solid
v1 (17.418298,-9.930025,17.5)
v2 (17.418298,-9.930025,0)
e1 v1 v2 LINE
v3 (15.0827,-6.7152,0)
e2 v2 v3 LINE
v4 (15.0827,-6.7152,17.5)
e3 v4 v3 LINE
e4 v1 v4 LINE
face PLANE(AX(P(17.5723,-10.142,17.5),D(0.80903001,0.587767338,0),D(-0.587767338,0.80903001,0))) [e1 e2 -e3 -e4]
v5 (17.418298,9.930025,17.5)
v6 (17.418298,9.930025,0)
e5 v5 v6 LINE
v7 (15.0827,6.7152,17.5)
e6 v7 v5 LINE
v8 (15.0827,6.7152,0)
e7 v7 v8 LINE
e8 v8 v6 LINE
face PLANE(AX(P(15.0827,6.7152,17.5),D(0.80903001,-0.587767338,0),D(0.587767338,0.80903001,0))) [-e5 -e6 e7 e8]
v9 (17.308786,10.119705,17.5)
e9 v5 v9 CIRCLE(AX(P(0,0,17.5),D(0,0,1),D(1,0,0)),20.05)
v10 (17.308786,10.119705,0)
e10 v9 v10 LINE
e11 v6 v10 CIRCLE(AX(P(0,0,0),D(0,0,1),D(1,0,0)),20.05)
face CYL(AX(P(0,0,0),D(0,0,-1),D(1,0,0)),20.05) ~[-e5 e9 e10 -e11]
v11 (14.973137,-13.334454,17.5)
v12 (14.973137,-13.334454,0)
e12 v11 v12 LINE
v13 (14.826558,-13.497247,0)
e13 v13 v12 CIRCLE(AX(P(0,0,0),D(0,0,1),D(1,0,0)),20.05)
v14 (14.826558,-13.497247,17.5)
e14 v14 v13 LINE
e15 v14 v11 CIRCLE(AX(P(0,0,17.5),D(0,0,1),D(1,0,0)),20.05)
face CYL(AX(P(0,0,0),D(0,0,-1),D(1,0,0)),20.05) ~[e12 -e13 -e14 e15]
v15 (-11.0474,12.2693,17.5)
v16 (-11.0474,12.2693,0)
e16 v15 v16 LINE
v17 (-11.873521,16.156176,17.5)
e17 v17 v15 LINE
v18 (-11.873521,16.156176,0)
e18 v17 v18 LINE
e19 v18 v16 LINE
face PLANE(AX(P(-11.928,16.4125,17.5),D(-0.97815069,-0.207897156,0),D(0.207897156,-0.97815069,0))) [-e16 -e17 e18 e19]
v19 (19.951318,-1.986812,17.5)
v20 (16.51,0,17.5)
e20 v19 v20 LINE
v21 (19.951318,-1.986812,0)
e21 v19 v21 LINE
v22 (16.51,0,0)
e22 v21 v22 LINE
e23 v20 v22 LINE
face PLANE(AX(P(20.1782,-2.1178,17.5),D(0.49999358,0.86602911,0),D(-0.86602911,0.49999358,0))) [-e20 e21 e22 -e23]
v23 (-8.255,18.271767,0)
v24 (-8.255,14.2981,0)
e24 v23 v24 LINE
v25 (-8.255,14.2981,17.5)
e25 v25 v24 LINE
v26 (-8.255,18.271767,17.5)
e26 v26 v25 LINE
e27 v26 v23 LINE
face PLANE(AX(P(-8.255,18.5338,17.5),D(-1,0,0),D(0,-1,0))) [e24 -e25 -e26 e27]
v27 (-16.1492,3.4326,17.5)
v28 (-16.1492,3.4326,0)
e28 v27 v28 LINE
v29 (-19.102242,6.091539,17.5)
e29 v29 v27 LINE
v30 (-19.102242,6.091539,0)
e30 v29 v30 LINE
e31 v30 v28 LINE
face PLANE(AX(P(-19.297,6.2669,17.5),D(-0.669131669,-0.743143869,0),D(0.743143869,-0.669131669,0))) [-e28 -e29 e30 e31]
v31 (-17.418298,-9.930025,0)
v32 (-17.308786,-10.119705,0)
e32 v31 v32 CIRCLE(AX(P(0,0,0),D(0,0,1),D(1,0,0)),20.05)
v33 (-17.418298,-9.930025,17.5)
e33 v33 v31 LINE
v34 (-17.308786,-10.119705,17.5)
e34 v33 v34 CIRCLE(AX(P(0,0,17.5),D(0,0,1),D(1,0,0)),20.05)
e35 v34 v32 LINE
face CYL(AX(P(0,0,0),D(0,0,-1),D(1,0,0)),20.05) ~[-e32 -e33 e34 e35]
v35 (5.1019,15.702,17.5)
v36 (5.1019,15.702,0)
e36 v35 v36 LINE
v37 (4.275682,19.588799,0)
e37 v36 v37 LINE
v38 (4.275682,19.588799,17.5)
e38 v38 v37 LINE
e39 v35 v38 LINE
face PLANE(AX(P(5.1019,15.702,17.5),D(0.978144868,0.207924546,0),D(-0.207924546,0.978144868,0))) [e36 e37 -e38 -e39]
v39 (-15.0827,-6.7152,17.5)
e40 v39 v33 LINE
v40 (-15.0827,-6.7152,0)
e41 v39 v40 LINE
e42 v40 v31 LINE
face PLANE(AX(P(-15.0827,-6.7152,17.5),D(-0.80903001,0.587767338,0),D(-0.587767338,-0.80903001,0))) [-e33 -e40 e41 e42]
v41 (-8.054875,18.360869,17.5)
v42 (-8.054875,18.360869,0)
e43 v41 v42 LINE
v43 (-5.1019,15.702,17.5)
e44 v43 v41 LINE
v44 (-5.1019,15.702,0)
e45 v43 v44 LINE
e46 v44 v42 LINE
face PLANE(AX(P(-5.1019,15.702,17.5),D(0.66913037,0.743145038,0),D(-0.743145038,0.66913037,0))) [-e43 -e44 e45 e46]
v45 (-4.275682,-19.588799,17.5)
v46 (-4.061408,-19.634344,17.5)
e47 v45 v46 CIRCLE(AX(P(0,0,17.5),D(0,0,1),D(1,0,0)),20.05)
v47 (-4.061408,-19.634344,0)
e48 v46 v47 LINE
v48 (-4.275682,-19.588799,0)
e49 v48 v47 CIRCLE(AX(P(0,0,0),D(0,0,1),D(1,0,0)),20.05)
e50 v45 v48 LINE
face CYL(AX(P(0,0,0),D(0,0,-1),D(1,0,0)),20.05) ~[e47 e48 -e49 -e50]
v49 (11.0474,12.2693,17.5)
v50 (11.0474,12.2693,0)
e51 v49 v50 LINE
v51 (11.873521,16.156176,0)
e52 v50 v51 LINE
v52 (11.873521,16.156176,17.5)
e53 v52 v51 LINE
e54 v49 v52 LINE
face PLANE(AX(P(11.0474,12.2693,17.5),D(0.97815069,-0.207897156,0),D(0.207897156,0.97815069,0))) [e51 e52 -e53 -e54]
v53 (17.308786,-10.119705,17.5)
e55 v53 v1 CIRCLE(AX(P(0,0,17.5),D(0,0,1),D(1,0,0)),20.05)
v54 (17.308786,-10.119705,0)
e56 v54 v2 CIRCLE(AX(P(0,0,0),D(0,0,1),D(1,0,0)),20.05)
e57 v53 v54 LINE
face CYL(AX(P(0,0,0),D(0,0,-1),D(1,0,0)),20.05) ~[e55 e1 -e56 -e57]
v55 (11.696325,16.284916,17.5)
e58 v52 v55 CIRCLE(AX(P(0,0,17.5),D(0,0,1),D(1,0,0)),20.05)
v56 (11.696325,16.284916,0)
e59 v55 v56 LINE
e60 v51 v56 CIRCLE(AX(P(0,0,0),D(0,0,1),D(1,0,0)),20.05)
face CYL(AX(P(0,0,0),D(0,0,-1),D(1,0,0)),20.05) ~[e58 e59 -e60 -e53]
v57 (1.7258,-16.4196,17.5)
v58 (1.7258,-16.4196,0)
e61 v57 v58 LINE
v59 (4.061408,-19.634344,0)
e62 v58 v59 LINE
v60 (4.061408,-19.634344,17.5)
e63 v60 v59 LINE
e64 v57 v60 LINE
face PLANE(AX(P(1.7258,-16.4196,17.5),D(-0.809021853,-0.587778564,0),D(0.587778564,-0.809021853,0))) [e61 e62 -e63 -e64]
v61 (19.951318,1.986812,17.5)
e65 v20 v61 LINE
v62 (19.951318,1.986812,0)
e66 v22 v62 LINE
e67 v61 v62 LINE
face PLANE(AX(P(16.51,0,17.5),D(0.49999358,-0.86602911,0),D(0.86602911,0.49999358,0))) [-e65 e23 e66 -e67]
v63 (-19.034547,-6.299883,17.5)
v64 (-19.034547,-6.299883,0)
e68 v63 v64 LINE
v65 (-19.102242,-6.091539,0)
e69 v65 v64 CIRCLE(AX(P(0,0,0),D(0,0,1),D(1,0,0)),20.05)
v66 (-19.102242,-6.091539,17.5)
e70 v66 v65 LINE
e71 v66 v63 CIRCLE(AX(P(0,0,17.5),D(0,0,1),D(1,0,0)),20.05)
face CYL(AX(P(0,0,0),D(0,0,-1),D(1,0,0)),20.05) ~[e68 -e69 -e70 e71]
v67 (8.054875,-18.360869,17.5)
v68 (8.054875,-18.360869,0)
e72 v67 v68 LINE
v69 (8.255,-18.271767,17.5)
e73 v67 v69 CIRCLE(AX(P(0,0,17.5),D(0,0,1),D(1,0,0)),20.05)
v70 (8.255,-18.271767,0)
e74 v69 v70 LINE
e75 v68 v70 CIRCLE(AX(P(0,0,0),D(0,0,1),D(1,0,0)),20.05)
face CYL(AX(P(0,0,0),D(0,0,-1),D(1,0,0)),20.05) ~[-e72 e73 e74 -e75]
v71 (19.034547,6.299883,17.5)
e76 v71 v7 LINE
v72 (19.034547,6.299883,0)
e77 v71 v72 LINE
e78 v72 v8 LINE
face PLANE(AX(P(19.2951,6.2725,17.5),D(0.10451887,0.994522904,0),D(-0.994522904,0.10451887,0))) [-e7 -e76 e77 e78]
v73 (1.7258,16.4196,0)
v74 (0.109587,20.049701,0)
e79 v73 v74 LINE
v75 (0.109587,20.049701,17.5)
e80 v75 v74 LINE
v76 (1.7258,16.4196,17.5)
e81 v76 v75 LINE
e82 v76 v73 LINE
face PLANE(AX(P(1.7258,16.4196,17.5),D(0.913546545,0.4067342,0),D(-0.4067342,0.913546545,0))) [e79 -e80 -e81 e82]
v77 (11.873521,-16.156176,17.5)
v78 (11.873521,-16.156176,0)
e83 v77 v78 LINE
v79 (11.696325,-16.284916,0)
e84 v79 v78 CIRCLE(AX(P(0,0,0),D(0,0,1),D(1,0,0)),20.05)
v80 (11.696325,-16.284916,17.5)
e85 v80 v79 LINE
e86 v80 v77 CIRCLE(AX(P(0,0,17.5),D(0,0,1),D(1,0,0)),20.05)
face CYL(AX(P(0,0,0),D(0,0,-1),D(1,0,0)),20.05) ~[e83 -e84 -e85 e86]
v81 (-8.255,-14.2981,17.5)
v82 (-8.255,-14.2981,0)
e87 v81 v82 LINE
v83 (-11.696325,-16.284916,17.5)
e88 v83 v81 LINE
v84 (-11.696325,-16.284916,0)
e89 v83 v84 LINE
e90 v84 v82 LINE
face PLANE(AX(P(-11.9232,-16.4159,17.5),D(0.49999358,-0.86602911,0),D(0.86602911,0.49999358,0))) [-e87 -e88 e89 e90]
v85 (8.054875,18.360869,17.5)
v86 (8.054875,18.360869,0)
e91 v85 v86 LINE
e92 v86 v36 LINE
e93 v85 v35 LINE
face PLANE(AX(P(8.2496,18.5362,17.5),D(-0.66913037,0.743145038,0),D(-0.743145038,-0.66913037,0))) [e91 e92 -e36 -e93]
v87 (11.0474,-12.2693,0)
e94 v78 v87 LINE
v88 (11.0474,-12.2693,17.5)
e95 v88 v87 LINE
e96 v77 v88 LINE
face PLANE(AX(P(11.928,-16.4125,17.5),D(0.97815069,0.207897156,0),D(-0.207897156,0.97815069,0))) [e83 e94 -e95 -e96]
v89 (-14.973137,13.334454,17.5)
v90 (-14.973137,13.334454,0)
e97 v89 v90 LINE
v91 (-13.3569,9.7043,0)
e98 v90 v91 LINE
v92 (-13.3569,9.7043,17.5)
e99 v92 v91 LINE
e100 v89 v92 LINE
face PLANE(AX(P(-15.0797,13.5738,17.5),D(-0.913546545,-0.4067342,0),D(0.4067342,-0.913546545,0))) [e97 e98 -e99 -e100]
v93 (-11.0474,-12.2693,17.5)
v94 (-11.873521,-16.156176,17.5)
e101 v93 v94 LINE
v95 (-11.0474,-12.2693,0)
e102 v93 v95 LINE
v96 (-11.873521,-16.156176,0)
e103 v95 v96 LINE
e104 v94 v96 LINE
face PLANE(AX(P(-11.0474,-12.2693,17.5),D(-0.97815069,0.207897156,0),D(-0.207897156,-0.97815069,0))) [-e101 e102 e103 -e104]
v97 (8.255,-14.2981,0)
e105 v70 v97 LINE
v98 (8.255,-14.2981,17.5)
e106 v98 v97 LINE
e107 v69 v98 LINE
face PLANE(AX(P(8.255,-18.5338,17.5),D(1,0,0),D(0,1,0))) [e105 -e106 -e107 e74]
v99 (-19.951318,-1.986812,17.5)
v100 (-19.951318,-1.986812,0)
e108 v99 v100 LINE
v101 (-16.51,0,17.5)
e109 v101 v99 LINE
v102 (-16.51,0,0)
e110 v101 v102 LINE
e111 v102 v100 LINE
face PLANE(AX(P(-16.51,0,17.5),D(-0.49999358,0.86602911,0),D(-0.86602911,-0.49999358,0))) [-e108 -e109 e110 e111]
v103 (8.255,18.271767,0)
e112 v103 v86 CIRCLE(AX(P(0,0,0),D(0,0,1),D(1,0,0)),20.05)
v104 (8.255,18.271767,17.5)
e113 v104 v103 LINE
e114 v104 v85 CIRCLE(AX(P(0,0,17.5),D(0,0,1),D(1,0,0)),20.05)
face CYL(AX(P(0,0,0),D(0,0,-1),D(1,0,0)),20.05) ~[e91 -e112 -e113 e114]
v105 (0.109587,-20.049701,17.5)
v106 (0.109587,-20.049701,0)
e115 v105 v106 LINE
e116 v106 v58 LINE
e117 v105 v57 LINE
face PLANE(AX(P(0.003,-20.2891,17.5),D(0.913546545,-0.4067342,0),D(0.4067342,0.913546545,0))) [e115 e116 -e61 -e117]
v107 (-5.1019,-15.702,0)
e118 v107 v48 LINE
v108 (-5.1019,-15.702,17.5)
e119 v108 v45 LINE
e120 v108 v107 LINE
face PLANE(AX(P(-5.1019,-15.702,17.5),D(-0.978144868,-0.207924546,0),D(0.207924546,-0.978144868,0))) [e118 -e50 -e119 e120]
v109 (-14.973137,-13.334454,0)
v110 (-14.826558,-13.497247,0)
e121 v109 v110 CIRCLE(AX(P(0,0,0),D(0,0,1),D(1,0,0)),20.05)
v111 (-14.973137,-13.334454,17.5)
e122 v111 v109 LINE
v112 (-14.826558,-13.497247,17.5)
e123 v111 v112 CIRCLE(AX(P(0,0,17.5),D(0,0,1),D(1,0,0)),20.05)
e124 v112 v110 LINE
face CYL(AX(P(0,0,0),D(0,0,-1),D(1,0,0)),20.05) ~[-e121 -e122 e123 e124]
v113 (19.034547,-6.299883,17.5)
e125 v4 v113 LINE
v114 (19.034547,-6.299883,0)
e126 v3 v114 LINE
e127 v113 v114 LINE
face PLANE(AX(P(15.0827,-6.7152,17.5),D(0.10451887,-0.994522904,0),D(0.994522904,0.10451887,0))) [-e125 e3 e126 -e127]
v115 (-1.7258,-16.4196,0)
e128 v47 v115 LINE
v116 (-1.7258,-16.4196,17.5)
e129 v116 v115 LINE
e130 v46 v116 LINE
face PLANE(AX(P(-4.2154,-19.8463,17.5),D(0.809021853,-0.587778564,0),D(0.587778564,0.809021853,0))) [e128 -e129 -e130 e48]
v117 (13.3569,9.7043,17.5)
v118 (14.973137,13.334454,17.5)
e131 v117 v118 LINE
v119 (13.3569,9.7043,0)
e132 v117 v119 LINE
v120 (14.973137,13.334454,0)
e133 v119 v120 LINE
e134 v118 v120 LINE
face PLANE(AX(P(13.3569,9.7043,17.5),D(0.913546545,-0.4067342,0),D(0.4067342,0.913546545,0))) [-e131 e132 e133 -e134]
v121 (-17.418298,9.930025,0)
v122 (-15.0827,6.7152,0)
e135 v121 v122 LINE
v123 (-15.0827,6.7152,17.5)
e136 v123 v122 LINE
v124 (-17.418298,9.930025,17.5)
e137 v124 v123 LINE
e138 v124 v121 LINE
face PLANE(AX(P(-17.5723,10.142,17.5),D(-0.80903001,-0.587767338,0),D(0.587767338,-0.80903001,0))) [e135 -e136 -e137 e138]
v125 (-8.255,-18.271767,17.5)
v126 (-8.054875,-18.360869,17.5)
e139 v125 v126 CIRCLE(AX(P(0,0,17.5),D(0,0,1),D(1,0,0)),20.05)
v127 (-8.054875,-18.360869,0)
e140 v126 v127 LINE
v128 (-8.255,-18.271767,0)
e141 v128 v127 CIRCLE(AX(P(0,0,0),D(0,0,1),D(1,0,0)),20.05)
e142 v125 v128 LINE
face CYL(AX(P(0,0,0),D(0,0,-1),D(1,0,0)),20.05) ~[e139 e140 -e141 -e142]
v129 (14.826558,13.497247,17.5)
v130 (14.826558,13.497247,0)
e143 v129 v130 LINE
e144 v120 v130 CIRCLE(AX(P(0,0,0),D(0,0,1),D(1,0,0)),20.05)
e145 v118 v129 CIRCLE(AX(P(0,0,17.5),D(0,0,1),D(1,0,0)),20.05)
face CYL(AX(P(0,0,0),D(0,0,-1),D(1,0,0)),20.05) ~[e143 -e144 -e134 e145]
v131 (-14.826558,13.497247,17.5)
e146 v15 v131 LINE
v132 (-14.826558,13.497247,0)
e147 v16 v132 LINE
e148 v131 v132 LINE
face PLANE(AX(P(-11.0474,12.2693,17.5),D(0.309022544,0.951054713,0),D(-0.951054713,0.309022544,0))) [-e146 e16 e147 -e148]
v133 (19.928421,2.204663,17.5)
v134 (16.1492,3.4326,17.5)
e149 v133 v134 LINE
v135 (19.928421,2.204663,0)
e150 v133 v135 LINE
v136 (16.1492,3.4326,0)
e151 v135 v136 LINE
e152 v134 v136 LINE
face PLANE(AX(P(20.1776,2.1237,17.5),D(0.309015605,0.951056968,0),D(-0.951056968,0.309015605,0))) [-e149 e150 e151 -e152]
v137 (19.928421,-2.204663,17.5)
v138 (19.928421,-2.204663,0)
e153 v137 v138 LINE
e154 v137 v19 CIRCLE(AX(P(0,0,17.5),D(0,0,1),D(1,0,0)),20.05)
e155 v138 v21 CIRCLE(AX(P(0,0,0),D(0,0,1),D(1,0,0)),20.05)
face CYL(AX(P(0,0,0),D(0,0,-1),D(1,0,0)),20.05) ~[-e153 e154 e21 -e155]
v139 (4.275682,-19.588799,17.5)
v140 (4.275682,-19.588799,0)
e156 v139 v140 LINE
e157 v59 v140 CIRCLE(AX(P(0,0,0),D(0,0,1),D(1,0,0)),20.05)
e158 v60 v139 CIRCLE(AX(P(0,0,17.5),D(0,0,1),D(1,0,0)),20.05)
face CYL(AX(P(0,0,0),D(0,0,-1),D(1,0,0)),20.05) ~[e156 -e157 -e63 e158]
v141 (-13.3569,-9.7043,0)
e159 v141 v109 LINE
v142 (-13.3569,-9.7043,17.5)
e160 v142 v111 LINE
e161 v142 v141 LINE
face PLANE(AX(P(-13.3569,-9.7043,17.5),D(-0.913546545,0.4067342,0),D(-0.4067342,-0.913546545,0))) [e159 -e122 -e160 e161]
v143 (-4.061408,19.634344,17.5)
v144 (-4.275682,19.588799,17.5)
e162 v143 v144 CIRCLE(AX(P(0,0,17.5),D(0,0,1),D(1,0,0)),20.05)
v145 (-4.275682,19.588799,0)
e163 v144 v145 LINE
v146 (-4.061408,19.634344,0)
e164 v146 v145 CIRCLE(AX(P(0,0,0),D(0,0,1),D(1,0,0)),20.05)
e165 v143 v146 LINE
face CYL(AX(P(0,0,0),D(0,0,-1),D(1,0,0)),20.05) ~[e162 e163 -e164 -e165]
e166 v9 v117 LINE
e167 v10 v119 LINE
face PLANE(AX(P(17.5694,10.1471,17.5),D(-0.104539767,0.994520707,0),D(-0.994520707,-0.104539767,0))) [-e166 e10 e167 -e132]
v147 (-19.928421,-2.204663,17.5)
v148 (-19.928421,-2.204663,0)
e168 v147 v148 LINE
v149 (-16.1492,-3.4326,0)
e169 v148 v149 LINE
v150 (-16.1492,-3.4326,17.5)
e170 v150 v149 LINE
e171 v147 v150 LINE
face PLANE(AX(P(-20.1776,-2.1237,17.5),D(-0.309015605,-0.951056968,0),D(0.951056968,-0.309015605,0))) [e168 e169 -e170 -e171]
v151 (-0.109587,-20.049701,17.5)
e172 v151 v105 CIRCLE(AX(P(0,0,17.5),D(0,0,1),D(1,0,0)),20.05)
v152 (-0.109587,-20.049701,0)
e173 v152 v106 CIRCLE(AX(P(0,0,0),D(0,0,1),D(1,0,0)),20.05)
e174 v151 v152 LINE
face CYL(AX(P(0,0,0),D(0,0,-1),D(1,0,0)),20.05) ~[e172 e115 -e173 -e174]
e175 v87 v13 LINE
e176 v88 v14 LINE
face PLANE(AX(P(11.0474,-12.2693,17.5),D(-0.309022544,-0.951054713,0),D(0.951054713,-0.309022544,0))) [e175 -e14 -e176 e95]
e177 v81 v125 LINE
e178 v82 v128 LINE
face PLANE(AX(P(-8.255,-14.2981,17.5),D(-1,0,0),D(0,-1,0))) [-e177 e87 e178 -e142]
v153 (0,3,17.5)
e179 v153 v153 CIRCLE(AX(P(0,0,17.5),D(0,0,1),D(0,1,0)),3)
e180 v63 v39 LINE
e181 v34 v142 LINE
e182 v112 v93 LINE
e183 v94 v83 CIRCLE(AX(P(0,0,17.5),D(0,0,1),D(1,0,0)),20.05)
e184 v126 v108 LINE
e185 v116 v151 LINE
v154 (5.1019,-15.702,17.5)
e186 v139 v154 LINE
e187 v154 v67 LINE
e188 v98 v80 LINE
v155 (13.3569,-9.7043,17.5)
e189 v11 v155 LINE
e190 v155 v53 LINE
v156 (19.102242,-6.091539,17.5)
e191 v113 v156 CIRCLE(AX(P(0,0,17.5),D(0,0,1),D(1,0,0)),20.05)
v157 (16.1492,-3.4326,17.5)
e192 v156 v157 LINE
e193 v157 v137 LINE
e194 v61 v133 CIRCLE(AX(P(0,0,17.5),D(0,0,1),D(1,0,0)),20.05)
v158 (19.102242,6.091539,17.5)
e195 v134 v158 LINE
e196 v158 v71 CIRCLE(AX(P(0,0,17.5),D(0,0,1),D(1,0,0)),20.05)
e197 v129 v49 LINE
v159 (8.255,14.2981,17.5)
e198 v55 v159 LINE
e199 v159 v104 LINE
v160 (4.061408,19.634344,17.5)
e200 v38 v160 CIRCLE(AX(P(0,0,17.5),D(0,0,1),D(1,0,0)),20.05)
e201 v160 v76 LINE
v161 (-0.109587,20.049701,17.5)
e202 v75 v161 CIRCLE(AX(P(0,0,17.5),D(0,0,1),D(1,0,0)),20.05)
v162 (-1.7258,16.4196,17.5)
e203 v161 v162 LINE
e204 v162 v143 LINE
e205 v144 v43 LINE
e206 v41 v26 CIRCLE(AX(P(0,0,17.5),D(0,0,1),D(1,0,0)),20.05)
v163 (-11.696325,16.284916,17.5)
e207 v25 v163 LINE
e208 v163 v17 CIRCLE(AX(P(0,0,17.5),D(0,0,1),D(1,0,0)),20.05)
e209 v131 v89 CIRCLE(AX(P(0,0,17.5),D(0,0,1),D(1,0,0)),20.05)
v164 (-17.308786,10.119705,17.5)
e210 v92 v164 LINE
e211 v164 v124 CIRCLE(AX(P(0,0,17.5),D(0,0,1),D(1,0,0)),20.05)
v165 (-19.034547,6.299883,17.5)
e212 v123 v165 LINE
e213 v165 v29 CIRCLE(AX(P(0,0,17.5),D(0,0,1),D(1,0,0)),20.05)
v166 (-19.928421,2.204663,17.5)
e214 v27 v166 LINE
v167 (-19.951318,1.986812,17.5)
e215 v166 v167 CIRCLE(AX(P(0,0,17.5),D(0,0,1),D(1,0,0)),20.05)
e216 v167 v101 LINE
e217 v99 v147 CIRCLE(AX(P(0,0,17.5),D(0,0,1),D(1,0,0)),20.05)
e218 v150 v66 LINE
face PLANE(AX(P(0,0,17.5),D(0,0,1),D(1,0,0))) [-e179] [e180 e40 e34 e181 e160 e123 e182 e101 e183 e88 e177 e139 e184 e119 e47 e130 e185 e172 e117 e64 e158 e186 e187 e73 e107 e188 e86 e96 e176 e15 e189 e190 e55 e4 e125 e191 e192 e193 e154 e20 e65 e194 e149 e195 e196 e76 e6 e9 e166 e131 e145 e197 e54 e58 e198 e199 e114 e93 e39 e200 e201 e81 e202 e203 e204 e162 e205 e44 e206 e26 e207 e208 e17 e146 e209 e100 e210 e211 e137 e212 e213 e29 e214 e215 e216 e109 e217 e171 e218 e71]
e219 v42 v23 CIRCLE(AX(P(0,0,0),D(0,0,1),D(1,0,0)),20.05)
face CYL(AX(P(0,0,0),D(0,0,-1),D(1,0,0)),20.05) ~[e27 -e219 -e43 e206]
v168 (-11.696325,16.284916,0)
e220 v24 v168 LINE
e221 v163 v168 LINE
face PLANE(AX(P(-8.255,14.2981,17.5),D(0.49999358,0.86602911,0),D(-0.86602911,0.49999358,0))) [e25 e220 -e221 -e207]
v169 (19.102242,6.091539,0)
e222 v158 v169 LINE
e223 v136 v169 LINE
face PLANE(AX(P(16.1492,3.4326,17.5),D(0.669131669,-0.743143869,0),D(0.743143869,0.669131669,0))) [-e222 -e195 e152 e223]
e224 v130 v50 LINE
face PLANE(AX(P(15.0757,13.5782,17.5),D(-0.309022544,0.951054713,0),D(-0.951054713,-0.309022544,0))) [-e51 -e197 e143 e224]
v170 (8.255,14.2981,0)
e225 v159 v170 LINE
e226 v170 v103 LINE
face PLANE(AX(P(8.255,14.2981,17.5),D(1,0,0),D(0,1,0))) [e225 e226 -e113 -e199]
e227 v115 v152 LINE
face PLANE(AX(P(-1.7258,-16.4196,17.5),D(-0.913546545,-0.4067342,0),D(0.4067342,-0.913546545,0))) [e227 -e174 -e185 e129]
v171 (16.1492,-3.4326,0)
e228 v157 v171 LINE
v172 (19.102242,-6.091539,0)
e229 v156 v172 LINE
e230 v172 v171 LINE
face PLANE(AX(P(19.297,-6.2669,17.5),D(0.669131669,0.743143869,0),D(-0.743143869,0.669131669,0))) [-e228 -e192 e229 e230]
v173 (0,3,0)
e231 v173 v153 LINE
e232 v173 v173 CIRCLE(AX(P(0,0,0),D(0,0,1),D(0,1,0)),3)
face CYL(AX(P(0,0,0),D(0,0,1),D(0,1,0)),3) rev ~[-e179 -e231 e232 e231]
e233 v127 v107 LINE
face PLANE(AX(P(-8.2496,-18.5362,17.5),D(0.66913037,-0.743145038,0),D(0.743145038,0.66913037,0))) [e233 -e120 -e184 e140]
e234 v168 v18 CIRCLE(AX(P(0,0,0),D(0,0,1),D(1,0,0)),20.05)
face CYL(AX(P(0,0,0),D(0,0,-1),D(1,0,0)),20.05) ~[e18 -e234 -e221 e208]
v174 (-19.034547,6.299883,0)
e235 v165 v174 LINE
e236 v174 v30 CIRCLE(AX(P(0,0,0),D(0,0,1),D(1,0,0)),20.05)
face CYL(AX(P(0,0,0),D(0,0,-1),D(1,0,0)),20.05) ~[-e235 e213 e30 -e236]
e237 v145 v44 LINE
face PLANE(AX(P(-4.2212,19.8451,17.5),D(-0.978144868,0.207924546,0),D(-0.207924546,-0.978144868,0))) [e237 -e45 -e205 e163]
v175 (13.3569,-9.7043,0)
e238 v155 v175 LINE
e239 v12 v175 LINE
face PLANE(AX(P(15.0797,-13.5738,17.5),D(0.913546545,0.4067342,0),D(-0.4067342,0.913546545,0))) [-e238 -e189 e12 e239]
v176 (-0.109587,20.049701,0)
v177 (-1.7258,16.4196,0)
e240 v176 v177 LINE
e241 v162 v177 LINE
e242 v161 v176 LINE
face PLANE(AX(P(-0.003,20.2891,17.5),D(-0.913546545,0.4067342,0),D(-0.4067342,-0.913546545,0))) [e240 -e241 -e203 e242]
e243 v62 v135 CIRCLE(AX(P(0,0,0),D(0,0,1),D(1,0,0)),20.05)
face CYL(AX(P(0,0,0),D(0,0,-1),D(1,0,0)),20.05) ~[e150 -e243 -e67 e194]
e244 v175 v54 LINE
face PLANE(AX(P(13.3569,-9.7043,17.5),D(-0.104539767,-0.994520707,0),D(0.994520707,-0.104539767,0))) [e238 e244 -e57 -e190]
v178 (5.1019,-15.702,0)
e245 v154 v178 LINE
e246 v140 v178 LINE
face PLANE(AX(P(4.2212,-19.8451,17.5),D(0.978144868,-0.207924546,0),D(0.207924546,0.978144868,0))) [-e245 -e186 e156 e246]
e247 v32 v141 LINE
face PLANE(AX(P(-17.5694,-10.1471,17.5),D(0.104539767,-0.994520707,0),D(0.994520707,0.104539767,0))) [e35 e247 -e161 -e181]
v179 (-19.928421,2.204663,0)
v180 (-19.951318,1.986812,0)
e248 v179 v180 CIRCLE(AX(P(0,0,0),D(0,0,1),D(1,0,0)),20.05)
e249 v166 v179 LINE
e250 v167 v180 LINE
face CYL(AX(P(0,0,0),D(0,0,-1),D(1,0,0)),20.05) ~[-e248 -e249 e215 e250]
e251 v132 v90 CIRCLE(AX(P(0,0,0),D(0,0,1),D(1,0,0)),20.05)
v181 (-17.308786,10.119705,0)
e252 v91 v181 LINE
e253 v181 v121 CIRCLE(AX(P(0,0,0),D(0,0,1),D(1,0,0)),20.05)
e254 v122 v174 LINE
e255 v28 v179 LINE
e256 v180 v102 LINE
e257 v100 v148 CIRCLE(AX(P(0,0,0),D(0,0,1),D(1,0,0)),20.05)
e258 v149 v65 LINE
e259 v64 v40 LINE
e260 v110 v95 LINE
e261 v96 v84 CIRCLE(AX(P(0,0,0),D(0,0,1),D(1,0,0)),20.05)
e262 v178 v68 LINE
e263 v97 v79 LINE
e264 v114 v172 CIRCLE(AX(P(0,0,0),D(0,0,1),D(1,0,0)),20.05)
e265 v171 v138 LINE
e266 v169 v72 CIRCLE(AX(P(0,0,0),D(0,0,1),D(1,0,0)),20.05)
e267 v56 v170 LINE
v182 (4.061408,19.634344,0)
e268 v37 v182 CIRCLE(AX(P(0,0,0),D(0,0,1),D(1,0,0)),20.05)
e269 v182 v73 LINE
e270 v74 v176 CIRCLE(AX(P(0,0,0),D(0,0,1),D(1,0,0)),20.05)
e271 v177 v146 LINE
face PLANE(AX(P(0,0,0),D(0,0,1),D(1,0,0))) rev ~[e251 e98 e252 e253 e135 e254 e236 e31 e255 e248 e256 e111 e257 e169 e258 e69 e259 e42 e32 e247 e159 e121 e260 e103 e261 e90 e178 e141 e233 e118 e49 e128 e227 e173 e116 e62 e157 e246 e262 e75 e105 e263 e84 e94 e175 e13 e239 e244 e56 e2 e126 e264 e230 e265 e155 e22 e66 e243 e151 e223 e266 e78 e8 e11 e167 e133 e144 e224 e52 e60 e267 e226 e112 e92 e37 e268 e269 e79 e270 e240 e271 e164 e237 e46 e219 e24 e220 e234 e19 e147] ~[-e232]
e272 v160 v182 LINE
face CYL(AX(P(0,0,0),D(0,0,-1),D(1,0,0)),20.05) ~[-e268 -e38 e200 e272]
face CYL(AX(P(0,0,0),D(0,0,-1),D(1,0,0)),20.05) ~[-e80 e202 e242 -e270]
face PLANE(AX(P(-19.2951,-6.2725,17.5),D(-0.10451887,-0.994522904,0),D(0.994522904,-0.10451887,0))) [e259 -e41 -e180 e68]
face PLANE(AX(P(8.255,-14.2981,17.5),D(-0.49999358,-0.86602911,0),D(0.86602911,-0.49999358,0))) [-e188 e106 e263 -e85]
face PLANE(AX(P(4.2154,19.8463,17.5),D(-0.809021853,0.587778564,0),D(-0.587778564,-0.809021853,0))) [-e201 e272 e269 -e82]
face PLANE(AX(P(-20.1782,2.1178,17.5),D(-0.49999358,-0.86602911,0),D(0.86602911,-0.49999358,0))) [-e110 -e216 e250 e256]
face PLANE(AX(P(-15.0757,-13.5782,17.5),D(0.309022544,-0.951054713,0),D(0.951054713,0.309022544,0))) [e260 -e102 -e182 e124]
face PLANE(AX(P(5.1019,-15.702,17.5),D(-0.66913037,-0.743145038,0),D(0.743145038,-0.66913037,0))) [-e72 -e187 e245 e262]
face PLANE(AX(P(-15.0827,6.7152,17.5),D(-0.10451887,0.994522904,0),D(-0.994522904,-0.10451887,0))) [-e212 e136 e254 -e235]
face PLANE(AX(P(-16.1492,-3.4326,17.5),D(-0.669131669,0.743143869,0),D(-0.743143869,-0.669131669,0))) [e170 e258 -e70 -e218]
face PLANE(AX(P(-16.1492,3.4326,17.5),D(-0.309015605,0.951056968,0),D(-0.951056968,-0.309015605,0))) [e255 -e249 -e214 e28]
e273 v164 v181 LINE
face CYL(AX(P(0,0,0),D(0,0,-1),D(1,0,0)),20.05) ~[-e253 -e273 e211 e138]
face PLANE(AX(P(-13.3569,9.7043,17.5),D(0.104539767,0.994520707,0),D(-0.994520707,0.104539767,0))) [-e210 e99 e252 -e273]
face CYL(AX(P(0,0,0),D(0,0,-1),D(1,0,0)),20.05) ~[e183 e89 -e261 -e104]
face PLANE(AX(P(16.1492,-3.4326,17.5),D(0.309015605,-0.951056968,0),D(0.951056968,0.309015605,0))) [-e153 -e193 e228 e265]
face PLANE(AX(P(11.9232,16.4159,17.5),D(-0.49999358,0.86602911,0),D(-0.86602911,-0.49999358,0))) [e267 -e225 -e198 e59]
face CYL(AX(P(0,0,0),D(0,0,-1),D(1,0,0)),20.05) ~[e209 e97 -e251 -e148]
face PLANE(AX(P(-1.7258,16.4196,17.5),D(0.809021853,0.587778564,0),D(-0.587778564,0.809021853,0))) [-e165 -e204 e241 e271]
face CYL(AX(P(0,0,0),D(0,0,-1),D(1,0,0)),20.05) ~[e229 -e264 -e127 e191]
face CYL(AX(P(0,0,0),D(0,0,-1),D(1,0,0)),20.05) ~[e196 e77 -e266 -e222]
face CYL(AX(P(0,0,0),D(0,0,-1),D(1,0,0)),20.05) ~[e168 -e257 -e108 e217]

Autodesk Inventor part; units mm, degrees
ref_plane "YZ Plane" through (0, 0, 0) normal (1, 0, 0) x (0, 1, 0)
ref_plane "XZ Plane" through (0, 0, 0) normal (0, 1, 0) x (-1, 0, 0)
ref_plane "XY Plane" through (0, 0, 0) normal (0, 0, 1) x (1, 0, 0)
sketch "Sketch1" plane through (0, 0, 0) normal (0, 0, 1) x (1, 0, 0)
  circle A0 centre (0, 0) radius 20.05
  dimension "d0" = 40.1
extrude "Extrusion1" add sketch "Sketch1" along normal blind 17.5
sketch "Sketch2" plane through (0, 0, 17.5) normal (0, 0, 1) x (1, 0, 0)
  line L0 (-16.51, 0) -> (-20.1782, -2.1178)
  line L1 (-20.1782, -2.1178) -> (-20.1782, 2.1178)
  line L2 (-20.1782, 2.1178) -> (-16.51, 0)
  line L3 (-16.1492, -3.4326) -> (-19.297, -6.2669)
  line L4 (-19.297, -6.2669) -> (-20.1776, -2.1237)
  line L5 (-20.1776, -2.1237) -> (-16.1492, -3.4326)
  line L6 (-15.0827, -6.7152) -> (-17.5723, -10.142)
  line L7 (-17.5723, -10.142) -> (-19.2951, -6.2725)
  line L8 (-19.2951, -6.2725) -> (-15.0827, -6.7152)
  line L9 (-13.3569, -9.7043) -> (-15.0797, -13.5738)
  line L10 (-15.0797, -13.5738) -> (-17.5694, -10.1471)
  line L11 (-17.5694, -10.1471) -> (-13.3569, -9.7043)
  line L12 (-11.0474, -12.2693) -> (-11.928, -16.4125)
  line L13 (-11.928, -16.4125) -> (-15.0757, -13.5782)
  line L14 (-15.0757, -13.5782) -> (-11.0474, -12.2693)
  line L15 (-8.255, -14.2981) -> (-8.255, -18.5338)
  line L16 (-8.255, -18.5338) -> (-11.9232, -16.4159)
  line L17 (-11.9232, -16.4159) -> (-8.255, -14.2981)
  line L18 (-5.1019, -15.702) -> (-4.2212, -19.8451)
  line L19 (-4.2212, -19.8451) -> (-8.2496, -18.5362)
  line L20 (-8.2496, -18.5362) -> (-5.1019, -15.702)
  line L21 (-1.7258, -16.4196) -> (-0.003, -20.2891)
  line L22 (-0.003, -20.2891) -> (-4.2154, -19.8463)
  line L23 (-4.2154, -19.8463) -> (-1.7258, -16.4196)
  line L24 (1.7258, -16.4196) -> (4.2154, -19.8463)
  line L25 (4.2154, -19.8463) -> (0.003, -20.2891)
  line L26 (0.003, -20.2891) -> (1.7258, -16.4196)
  line L27 (5.1019, -15.702) -> (8.2496, -18.5362)
  line L28 (8.2496, -18.5362) -> (4.2212, -19.8451)
  line L29 (4.2212, -19.8451) -> (5.1019, -15.702)
  line L30 (8.255, -14.2981) -> (11.9232, -16.4159)
  line L31 (11.9232, -16.4159) -> (8.255, -18.5338)
  line L32 (8.255, -18.5338) -> (8.255, -14.2981)
  line L33 (11.0474, -12.2693) -> (15.0757, -13.5782)
  line L34 (15.0757, -13.5782) -> (11.928, -16.4125)
  line L35 (11.928, -16.4125) -> (11.0474, -12.2693)
  line L36 (13.3569, -9.7043) -> (17.5694, -10.1471)
  line L37 (17.5694, -10.1471) -> (15.0797, -13.5738)
  line L38 (15.0797, -13.5738) -> (13.3569, -9.7043)
  line L39 (15.0827, -6.7152) -> (19.2951, -6.2725)
  line L40 (19.2951, -6.2725) -> (17.5723, -10.142)
  line L41 (17.5723, -10.142) -> (15.0827, -6.7152)
  line L42 (16.1492, -3.4326) -> (20.1776, -2.1237)
  line L43 (20.1776, -2.1237) -> (19.297, -6.2669)
  line L44 (19.297, -6.2669) -> (16.1492, -3.4326)
  line L45 (16.51, 0) -> (20.1782, 2.1178)
  line L46 (20.1782, 2.1178) -> (20.1782, -2.1178)
  line L47 (20.1782, -2.1178) -> (16.51, 0)
  line L48 (16.1492, 3.4326) -> (19.297, 6.2669)
  line L49 (19.297, 6.2669) -> (20.1776, 2.1237)
  line L50 (20.1776, 2.1237) -> (16.1492, 3.4326)
  line L51 (15.0827, 6.7152) -> (17.5723, 10.142)
  line L52 (17.5723, 10.142) -> (19.2951, 6.2725)
  line L53 (19.2951, 6.2725) -> (15.0827, 6.7152)
  line L54 (13.3569, 9.7043) -> (15.0797, 13.5738)
  line L55 (15.0797, 13.5738) -> (17.5694, 10.1471)
  line L56 (17.5694, 10.1471) -> (13.3569, 9.7043)
  line L57 (11.0474, 12.2693) -> (11.928, 16.4125)
  line L58 (11.928, 16.4125) -> (15.0757, 13.5782)
  line L59 (15.0757, 13.5782) -> (11.0474, 12.2693)
  line L60 (8.255, 14.2981) -> (8.255, 18.5338)
  line L61 (8.255, 18.5338) -> (11.9232, 16.4159)
  line L62 (11.9232, 16.4159) -> (8.255, 14.2981)
  line L63 (5.1019, 15.702) -> (4.2212, 19.8451)
  line L64 (4.2212, 19.8451) -> (8.2496, 18.5362)
  line L65 (8.2496, 18.5362) -> (5.1019, 15.702)
  line L66 (1.7258, 16.4196) -> (0.003, 20.2891)
  line L67 (0.003, 20.2891) -> (4.2154, 19.8463)
  line L68 (4.2154, 19.8463) -> (1.7258, 16.4196)
  line L69 (-1.7258, 16.4196) -> (-4.2154, 19.8463)
  line L70 (-4.2154, 19.8463) -> (-0.003, 20.2891)
  line L71 (-0.003, 20.2891) -> (-1.7258, 16.4196)
  line L72 (-5.1019, 15.702) -> (-8.2496, 18.5362)
  line L73 (-8.2496, 18.5362) -> (-4.2212, 19.8451)
  line L74 (-4.2212, 19.8451) -> (-5.1019, 15.702)
  line L75 (-8.255, 14.2981) -> (-11.9232, 16.4159)
  line L76 (-11.9232, 16.4159) -> (-8.255, 18.5338)
  line L77 (-8.255, 18.5338) -> (-8.255, 14.2981)
  line L78 (-11.0474, 12.2693) -> (-15.0757, 13.5782)
  line L79 (-15.0757, 13.5782) -> (-11.928, 16.4125)
  line L80 (-11.928, 16.4125) -> (-11.0474, 12.2693)
  line L81 (-13.3569, 9.7043) -> (-17.5694, 10.1471)
  line L82 (-17.5694, 10.1471) -> (-15.0797, 13.5738)
  line L83 (-15.0797, 13.5738) -> (-13.3569, 9.7043)
  line L84 (-15.0827, 6.7152) -> (-19.2951, 6.2725)
  line L85 (-19.2951, 6.2725) -> (-17.5723, 10.142)
  line L86 (-17.5723, 10.142) -> (-15.0827, 6.7152)
  line L87 (-16.1492, 3.4326) -> (-20.1776, 2.1237)
  line L88 (-20.1776, 2.1237) -> (-19.297, 6.2669)
  line L89 (-19.297, 6.2669) -> (-16.1492, 3.4326)
  point P0 (0, 0)
  point P1 (-18.9555, 0)
  point P2 (-18.5413, -3.9411)
  point P3 (-17.3167, -7.7099)
  point P4 (-15.3353, -11.1418)
  point P5 (-12.6837, -14.0867)
  point P6 (-9.4777, -16.4159)
  point P7 (-5.8576, -18.0277)
  point P8 (-1.9814, -18.8517)
  point P9 (1.9814, -18.8517)
  point P10 (5.8576, -18.0277)
  point P11 (9.4777, -16.4159)
  point P12 (12.6837, -14.0867)
  point P13 (15.3353, -11.1418)
  point P14 (17.3167, -7.7099)
  point P15 (18.5413, -3.9411)
  point P16 (18.9555, 0)
  point P17 (18.5413, 3.9411)
  point P18 (17.3167, 7.7099)
  point P19 (15.3353, 11.1418)
  point P20 (12.6837, 14.0867)
  point P21 (9.4777, 16.4159)
  point P22 (5.8576, 18.0277)
  point P23 (1.9814, 18.8517)
  point P24 (-1.9814, 18.8517)
  point P25 (-5.8576, 18.0277)
  point P26 (-9.4777, 16.4159)
  point P27 (-12.6837, 14.0867)
  point P28 (-15.3353, 11.1418)
  point P29 (-17.3167, 7.7099)
  point P30 (-18.5413, 3.9411)
  dimension "d5" = 360
extrude "Extrusion2" cut sketch "Sketch2" against normal through all
sketch "Sketch3" plane through (0, 0, 0) normal (0, 0, -1) x (-1, 0, 0)
  point P0 (0, 0)
  point P1 (0, 0)
hole "Hole1" at (0, 0, 0) at (0, 0, 0) direction (0, 0, 1) diameter 6 end through all
properties part number "gear(1.5 inch with 2mm extra)"
